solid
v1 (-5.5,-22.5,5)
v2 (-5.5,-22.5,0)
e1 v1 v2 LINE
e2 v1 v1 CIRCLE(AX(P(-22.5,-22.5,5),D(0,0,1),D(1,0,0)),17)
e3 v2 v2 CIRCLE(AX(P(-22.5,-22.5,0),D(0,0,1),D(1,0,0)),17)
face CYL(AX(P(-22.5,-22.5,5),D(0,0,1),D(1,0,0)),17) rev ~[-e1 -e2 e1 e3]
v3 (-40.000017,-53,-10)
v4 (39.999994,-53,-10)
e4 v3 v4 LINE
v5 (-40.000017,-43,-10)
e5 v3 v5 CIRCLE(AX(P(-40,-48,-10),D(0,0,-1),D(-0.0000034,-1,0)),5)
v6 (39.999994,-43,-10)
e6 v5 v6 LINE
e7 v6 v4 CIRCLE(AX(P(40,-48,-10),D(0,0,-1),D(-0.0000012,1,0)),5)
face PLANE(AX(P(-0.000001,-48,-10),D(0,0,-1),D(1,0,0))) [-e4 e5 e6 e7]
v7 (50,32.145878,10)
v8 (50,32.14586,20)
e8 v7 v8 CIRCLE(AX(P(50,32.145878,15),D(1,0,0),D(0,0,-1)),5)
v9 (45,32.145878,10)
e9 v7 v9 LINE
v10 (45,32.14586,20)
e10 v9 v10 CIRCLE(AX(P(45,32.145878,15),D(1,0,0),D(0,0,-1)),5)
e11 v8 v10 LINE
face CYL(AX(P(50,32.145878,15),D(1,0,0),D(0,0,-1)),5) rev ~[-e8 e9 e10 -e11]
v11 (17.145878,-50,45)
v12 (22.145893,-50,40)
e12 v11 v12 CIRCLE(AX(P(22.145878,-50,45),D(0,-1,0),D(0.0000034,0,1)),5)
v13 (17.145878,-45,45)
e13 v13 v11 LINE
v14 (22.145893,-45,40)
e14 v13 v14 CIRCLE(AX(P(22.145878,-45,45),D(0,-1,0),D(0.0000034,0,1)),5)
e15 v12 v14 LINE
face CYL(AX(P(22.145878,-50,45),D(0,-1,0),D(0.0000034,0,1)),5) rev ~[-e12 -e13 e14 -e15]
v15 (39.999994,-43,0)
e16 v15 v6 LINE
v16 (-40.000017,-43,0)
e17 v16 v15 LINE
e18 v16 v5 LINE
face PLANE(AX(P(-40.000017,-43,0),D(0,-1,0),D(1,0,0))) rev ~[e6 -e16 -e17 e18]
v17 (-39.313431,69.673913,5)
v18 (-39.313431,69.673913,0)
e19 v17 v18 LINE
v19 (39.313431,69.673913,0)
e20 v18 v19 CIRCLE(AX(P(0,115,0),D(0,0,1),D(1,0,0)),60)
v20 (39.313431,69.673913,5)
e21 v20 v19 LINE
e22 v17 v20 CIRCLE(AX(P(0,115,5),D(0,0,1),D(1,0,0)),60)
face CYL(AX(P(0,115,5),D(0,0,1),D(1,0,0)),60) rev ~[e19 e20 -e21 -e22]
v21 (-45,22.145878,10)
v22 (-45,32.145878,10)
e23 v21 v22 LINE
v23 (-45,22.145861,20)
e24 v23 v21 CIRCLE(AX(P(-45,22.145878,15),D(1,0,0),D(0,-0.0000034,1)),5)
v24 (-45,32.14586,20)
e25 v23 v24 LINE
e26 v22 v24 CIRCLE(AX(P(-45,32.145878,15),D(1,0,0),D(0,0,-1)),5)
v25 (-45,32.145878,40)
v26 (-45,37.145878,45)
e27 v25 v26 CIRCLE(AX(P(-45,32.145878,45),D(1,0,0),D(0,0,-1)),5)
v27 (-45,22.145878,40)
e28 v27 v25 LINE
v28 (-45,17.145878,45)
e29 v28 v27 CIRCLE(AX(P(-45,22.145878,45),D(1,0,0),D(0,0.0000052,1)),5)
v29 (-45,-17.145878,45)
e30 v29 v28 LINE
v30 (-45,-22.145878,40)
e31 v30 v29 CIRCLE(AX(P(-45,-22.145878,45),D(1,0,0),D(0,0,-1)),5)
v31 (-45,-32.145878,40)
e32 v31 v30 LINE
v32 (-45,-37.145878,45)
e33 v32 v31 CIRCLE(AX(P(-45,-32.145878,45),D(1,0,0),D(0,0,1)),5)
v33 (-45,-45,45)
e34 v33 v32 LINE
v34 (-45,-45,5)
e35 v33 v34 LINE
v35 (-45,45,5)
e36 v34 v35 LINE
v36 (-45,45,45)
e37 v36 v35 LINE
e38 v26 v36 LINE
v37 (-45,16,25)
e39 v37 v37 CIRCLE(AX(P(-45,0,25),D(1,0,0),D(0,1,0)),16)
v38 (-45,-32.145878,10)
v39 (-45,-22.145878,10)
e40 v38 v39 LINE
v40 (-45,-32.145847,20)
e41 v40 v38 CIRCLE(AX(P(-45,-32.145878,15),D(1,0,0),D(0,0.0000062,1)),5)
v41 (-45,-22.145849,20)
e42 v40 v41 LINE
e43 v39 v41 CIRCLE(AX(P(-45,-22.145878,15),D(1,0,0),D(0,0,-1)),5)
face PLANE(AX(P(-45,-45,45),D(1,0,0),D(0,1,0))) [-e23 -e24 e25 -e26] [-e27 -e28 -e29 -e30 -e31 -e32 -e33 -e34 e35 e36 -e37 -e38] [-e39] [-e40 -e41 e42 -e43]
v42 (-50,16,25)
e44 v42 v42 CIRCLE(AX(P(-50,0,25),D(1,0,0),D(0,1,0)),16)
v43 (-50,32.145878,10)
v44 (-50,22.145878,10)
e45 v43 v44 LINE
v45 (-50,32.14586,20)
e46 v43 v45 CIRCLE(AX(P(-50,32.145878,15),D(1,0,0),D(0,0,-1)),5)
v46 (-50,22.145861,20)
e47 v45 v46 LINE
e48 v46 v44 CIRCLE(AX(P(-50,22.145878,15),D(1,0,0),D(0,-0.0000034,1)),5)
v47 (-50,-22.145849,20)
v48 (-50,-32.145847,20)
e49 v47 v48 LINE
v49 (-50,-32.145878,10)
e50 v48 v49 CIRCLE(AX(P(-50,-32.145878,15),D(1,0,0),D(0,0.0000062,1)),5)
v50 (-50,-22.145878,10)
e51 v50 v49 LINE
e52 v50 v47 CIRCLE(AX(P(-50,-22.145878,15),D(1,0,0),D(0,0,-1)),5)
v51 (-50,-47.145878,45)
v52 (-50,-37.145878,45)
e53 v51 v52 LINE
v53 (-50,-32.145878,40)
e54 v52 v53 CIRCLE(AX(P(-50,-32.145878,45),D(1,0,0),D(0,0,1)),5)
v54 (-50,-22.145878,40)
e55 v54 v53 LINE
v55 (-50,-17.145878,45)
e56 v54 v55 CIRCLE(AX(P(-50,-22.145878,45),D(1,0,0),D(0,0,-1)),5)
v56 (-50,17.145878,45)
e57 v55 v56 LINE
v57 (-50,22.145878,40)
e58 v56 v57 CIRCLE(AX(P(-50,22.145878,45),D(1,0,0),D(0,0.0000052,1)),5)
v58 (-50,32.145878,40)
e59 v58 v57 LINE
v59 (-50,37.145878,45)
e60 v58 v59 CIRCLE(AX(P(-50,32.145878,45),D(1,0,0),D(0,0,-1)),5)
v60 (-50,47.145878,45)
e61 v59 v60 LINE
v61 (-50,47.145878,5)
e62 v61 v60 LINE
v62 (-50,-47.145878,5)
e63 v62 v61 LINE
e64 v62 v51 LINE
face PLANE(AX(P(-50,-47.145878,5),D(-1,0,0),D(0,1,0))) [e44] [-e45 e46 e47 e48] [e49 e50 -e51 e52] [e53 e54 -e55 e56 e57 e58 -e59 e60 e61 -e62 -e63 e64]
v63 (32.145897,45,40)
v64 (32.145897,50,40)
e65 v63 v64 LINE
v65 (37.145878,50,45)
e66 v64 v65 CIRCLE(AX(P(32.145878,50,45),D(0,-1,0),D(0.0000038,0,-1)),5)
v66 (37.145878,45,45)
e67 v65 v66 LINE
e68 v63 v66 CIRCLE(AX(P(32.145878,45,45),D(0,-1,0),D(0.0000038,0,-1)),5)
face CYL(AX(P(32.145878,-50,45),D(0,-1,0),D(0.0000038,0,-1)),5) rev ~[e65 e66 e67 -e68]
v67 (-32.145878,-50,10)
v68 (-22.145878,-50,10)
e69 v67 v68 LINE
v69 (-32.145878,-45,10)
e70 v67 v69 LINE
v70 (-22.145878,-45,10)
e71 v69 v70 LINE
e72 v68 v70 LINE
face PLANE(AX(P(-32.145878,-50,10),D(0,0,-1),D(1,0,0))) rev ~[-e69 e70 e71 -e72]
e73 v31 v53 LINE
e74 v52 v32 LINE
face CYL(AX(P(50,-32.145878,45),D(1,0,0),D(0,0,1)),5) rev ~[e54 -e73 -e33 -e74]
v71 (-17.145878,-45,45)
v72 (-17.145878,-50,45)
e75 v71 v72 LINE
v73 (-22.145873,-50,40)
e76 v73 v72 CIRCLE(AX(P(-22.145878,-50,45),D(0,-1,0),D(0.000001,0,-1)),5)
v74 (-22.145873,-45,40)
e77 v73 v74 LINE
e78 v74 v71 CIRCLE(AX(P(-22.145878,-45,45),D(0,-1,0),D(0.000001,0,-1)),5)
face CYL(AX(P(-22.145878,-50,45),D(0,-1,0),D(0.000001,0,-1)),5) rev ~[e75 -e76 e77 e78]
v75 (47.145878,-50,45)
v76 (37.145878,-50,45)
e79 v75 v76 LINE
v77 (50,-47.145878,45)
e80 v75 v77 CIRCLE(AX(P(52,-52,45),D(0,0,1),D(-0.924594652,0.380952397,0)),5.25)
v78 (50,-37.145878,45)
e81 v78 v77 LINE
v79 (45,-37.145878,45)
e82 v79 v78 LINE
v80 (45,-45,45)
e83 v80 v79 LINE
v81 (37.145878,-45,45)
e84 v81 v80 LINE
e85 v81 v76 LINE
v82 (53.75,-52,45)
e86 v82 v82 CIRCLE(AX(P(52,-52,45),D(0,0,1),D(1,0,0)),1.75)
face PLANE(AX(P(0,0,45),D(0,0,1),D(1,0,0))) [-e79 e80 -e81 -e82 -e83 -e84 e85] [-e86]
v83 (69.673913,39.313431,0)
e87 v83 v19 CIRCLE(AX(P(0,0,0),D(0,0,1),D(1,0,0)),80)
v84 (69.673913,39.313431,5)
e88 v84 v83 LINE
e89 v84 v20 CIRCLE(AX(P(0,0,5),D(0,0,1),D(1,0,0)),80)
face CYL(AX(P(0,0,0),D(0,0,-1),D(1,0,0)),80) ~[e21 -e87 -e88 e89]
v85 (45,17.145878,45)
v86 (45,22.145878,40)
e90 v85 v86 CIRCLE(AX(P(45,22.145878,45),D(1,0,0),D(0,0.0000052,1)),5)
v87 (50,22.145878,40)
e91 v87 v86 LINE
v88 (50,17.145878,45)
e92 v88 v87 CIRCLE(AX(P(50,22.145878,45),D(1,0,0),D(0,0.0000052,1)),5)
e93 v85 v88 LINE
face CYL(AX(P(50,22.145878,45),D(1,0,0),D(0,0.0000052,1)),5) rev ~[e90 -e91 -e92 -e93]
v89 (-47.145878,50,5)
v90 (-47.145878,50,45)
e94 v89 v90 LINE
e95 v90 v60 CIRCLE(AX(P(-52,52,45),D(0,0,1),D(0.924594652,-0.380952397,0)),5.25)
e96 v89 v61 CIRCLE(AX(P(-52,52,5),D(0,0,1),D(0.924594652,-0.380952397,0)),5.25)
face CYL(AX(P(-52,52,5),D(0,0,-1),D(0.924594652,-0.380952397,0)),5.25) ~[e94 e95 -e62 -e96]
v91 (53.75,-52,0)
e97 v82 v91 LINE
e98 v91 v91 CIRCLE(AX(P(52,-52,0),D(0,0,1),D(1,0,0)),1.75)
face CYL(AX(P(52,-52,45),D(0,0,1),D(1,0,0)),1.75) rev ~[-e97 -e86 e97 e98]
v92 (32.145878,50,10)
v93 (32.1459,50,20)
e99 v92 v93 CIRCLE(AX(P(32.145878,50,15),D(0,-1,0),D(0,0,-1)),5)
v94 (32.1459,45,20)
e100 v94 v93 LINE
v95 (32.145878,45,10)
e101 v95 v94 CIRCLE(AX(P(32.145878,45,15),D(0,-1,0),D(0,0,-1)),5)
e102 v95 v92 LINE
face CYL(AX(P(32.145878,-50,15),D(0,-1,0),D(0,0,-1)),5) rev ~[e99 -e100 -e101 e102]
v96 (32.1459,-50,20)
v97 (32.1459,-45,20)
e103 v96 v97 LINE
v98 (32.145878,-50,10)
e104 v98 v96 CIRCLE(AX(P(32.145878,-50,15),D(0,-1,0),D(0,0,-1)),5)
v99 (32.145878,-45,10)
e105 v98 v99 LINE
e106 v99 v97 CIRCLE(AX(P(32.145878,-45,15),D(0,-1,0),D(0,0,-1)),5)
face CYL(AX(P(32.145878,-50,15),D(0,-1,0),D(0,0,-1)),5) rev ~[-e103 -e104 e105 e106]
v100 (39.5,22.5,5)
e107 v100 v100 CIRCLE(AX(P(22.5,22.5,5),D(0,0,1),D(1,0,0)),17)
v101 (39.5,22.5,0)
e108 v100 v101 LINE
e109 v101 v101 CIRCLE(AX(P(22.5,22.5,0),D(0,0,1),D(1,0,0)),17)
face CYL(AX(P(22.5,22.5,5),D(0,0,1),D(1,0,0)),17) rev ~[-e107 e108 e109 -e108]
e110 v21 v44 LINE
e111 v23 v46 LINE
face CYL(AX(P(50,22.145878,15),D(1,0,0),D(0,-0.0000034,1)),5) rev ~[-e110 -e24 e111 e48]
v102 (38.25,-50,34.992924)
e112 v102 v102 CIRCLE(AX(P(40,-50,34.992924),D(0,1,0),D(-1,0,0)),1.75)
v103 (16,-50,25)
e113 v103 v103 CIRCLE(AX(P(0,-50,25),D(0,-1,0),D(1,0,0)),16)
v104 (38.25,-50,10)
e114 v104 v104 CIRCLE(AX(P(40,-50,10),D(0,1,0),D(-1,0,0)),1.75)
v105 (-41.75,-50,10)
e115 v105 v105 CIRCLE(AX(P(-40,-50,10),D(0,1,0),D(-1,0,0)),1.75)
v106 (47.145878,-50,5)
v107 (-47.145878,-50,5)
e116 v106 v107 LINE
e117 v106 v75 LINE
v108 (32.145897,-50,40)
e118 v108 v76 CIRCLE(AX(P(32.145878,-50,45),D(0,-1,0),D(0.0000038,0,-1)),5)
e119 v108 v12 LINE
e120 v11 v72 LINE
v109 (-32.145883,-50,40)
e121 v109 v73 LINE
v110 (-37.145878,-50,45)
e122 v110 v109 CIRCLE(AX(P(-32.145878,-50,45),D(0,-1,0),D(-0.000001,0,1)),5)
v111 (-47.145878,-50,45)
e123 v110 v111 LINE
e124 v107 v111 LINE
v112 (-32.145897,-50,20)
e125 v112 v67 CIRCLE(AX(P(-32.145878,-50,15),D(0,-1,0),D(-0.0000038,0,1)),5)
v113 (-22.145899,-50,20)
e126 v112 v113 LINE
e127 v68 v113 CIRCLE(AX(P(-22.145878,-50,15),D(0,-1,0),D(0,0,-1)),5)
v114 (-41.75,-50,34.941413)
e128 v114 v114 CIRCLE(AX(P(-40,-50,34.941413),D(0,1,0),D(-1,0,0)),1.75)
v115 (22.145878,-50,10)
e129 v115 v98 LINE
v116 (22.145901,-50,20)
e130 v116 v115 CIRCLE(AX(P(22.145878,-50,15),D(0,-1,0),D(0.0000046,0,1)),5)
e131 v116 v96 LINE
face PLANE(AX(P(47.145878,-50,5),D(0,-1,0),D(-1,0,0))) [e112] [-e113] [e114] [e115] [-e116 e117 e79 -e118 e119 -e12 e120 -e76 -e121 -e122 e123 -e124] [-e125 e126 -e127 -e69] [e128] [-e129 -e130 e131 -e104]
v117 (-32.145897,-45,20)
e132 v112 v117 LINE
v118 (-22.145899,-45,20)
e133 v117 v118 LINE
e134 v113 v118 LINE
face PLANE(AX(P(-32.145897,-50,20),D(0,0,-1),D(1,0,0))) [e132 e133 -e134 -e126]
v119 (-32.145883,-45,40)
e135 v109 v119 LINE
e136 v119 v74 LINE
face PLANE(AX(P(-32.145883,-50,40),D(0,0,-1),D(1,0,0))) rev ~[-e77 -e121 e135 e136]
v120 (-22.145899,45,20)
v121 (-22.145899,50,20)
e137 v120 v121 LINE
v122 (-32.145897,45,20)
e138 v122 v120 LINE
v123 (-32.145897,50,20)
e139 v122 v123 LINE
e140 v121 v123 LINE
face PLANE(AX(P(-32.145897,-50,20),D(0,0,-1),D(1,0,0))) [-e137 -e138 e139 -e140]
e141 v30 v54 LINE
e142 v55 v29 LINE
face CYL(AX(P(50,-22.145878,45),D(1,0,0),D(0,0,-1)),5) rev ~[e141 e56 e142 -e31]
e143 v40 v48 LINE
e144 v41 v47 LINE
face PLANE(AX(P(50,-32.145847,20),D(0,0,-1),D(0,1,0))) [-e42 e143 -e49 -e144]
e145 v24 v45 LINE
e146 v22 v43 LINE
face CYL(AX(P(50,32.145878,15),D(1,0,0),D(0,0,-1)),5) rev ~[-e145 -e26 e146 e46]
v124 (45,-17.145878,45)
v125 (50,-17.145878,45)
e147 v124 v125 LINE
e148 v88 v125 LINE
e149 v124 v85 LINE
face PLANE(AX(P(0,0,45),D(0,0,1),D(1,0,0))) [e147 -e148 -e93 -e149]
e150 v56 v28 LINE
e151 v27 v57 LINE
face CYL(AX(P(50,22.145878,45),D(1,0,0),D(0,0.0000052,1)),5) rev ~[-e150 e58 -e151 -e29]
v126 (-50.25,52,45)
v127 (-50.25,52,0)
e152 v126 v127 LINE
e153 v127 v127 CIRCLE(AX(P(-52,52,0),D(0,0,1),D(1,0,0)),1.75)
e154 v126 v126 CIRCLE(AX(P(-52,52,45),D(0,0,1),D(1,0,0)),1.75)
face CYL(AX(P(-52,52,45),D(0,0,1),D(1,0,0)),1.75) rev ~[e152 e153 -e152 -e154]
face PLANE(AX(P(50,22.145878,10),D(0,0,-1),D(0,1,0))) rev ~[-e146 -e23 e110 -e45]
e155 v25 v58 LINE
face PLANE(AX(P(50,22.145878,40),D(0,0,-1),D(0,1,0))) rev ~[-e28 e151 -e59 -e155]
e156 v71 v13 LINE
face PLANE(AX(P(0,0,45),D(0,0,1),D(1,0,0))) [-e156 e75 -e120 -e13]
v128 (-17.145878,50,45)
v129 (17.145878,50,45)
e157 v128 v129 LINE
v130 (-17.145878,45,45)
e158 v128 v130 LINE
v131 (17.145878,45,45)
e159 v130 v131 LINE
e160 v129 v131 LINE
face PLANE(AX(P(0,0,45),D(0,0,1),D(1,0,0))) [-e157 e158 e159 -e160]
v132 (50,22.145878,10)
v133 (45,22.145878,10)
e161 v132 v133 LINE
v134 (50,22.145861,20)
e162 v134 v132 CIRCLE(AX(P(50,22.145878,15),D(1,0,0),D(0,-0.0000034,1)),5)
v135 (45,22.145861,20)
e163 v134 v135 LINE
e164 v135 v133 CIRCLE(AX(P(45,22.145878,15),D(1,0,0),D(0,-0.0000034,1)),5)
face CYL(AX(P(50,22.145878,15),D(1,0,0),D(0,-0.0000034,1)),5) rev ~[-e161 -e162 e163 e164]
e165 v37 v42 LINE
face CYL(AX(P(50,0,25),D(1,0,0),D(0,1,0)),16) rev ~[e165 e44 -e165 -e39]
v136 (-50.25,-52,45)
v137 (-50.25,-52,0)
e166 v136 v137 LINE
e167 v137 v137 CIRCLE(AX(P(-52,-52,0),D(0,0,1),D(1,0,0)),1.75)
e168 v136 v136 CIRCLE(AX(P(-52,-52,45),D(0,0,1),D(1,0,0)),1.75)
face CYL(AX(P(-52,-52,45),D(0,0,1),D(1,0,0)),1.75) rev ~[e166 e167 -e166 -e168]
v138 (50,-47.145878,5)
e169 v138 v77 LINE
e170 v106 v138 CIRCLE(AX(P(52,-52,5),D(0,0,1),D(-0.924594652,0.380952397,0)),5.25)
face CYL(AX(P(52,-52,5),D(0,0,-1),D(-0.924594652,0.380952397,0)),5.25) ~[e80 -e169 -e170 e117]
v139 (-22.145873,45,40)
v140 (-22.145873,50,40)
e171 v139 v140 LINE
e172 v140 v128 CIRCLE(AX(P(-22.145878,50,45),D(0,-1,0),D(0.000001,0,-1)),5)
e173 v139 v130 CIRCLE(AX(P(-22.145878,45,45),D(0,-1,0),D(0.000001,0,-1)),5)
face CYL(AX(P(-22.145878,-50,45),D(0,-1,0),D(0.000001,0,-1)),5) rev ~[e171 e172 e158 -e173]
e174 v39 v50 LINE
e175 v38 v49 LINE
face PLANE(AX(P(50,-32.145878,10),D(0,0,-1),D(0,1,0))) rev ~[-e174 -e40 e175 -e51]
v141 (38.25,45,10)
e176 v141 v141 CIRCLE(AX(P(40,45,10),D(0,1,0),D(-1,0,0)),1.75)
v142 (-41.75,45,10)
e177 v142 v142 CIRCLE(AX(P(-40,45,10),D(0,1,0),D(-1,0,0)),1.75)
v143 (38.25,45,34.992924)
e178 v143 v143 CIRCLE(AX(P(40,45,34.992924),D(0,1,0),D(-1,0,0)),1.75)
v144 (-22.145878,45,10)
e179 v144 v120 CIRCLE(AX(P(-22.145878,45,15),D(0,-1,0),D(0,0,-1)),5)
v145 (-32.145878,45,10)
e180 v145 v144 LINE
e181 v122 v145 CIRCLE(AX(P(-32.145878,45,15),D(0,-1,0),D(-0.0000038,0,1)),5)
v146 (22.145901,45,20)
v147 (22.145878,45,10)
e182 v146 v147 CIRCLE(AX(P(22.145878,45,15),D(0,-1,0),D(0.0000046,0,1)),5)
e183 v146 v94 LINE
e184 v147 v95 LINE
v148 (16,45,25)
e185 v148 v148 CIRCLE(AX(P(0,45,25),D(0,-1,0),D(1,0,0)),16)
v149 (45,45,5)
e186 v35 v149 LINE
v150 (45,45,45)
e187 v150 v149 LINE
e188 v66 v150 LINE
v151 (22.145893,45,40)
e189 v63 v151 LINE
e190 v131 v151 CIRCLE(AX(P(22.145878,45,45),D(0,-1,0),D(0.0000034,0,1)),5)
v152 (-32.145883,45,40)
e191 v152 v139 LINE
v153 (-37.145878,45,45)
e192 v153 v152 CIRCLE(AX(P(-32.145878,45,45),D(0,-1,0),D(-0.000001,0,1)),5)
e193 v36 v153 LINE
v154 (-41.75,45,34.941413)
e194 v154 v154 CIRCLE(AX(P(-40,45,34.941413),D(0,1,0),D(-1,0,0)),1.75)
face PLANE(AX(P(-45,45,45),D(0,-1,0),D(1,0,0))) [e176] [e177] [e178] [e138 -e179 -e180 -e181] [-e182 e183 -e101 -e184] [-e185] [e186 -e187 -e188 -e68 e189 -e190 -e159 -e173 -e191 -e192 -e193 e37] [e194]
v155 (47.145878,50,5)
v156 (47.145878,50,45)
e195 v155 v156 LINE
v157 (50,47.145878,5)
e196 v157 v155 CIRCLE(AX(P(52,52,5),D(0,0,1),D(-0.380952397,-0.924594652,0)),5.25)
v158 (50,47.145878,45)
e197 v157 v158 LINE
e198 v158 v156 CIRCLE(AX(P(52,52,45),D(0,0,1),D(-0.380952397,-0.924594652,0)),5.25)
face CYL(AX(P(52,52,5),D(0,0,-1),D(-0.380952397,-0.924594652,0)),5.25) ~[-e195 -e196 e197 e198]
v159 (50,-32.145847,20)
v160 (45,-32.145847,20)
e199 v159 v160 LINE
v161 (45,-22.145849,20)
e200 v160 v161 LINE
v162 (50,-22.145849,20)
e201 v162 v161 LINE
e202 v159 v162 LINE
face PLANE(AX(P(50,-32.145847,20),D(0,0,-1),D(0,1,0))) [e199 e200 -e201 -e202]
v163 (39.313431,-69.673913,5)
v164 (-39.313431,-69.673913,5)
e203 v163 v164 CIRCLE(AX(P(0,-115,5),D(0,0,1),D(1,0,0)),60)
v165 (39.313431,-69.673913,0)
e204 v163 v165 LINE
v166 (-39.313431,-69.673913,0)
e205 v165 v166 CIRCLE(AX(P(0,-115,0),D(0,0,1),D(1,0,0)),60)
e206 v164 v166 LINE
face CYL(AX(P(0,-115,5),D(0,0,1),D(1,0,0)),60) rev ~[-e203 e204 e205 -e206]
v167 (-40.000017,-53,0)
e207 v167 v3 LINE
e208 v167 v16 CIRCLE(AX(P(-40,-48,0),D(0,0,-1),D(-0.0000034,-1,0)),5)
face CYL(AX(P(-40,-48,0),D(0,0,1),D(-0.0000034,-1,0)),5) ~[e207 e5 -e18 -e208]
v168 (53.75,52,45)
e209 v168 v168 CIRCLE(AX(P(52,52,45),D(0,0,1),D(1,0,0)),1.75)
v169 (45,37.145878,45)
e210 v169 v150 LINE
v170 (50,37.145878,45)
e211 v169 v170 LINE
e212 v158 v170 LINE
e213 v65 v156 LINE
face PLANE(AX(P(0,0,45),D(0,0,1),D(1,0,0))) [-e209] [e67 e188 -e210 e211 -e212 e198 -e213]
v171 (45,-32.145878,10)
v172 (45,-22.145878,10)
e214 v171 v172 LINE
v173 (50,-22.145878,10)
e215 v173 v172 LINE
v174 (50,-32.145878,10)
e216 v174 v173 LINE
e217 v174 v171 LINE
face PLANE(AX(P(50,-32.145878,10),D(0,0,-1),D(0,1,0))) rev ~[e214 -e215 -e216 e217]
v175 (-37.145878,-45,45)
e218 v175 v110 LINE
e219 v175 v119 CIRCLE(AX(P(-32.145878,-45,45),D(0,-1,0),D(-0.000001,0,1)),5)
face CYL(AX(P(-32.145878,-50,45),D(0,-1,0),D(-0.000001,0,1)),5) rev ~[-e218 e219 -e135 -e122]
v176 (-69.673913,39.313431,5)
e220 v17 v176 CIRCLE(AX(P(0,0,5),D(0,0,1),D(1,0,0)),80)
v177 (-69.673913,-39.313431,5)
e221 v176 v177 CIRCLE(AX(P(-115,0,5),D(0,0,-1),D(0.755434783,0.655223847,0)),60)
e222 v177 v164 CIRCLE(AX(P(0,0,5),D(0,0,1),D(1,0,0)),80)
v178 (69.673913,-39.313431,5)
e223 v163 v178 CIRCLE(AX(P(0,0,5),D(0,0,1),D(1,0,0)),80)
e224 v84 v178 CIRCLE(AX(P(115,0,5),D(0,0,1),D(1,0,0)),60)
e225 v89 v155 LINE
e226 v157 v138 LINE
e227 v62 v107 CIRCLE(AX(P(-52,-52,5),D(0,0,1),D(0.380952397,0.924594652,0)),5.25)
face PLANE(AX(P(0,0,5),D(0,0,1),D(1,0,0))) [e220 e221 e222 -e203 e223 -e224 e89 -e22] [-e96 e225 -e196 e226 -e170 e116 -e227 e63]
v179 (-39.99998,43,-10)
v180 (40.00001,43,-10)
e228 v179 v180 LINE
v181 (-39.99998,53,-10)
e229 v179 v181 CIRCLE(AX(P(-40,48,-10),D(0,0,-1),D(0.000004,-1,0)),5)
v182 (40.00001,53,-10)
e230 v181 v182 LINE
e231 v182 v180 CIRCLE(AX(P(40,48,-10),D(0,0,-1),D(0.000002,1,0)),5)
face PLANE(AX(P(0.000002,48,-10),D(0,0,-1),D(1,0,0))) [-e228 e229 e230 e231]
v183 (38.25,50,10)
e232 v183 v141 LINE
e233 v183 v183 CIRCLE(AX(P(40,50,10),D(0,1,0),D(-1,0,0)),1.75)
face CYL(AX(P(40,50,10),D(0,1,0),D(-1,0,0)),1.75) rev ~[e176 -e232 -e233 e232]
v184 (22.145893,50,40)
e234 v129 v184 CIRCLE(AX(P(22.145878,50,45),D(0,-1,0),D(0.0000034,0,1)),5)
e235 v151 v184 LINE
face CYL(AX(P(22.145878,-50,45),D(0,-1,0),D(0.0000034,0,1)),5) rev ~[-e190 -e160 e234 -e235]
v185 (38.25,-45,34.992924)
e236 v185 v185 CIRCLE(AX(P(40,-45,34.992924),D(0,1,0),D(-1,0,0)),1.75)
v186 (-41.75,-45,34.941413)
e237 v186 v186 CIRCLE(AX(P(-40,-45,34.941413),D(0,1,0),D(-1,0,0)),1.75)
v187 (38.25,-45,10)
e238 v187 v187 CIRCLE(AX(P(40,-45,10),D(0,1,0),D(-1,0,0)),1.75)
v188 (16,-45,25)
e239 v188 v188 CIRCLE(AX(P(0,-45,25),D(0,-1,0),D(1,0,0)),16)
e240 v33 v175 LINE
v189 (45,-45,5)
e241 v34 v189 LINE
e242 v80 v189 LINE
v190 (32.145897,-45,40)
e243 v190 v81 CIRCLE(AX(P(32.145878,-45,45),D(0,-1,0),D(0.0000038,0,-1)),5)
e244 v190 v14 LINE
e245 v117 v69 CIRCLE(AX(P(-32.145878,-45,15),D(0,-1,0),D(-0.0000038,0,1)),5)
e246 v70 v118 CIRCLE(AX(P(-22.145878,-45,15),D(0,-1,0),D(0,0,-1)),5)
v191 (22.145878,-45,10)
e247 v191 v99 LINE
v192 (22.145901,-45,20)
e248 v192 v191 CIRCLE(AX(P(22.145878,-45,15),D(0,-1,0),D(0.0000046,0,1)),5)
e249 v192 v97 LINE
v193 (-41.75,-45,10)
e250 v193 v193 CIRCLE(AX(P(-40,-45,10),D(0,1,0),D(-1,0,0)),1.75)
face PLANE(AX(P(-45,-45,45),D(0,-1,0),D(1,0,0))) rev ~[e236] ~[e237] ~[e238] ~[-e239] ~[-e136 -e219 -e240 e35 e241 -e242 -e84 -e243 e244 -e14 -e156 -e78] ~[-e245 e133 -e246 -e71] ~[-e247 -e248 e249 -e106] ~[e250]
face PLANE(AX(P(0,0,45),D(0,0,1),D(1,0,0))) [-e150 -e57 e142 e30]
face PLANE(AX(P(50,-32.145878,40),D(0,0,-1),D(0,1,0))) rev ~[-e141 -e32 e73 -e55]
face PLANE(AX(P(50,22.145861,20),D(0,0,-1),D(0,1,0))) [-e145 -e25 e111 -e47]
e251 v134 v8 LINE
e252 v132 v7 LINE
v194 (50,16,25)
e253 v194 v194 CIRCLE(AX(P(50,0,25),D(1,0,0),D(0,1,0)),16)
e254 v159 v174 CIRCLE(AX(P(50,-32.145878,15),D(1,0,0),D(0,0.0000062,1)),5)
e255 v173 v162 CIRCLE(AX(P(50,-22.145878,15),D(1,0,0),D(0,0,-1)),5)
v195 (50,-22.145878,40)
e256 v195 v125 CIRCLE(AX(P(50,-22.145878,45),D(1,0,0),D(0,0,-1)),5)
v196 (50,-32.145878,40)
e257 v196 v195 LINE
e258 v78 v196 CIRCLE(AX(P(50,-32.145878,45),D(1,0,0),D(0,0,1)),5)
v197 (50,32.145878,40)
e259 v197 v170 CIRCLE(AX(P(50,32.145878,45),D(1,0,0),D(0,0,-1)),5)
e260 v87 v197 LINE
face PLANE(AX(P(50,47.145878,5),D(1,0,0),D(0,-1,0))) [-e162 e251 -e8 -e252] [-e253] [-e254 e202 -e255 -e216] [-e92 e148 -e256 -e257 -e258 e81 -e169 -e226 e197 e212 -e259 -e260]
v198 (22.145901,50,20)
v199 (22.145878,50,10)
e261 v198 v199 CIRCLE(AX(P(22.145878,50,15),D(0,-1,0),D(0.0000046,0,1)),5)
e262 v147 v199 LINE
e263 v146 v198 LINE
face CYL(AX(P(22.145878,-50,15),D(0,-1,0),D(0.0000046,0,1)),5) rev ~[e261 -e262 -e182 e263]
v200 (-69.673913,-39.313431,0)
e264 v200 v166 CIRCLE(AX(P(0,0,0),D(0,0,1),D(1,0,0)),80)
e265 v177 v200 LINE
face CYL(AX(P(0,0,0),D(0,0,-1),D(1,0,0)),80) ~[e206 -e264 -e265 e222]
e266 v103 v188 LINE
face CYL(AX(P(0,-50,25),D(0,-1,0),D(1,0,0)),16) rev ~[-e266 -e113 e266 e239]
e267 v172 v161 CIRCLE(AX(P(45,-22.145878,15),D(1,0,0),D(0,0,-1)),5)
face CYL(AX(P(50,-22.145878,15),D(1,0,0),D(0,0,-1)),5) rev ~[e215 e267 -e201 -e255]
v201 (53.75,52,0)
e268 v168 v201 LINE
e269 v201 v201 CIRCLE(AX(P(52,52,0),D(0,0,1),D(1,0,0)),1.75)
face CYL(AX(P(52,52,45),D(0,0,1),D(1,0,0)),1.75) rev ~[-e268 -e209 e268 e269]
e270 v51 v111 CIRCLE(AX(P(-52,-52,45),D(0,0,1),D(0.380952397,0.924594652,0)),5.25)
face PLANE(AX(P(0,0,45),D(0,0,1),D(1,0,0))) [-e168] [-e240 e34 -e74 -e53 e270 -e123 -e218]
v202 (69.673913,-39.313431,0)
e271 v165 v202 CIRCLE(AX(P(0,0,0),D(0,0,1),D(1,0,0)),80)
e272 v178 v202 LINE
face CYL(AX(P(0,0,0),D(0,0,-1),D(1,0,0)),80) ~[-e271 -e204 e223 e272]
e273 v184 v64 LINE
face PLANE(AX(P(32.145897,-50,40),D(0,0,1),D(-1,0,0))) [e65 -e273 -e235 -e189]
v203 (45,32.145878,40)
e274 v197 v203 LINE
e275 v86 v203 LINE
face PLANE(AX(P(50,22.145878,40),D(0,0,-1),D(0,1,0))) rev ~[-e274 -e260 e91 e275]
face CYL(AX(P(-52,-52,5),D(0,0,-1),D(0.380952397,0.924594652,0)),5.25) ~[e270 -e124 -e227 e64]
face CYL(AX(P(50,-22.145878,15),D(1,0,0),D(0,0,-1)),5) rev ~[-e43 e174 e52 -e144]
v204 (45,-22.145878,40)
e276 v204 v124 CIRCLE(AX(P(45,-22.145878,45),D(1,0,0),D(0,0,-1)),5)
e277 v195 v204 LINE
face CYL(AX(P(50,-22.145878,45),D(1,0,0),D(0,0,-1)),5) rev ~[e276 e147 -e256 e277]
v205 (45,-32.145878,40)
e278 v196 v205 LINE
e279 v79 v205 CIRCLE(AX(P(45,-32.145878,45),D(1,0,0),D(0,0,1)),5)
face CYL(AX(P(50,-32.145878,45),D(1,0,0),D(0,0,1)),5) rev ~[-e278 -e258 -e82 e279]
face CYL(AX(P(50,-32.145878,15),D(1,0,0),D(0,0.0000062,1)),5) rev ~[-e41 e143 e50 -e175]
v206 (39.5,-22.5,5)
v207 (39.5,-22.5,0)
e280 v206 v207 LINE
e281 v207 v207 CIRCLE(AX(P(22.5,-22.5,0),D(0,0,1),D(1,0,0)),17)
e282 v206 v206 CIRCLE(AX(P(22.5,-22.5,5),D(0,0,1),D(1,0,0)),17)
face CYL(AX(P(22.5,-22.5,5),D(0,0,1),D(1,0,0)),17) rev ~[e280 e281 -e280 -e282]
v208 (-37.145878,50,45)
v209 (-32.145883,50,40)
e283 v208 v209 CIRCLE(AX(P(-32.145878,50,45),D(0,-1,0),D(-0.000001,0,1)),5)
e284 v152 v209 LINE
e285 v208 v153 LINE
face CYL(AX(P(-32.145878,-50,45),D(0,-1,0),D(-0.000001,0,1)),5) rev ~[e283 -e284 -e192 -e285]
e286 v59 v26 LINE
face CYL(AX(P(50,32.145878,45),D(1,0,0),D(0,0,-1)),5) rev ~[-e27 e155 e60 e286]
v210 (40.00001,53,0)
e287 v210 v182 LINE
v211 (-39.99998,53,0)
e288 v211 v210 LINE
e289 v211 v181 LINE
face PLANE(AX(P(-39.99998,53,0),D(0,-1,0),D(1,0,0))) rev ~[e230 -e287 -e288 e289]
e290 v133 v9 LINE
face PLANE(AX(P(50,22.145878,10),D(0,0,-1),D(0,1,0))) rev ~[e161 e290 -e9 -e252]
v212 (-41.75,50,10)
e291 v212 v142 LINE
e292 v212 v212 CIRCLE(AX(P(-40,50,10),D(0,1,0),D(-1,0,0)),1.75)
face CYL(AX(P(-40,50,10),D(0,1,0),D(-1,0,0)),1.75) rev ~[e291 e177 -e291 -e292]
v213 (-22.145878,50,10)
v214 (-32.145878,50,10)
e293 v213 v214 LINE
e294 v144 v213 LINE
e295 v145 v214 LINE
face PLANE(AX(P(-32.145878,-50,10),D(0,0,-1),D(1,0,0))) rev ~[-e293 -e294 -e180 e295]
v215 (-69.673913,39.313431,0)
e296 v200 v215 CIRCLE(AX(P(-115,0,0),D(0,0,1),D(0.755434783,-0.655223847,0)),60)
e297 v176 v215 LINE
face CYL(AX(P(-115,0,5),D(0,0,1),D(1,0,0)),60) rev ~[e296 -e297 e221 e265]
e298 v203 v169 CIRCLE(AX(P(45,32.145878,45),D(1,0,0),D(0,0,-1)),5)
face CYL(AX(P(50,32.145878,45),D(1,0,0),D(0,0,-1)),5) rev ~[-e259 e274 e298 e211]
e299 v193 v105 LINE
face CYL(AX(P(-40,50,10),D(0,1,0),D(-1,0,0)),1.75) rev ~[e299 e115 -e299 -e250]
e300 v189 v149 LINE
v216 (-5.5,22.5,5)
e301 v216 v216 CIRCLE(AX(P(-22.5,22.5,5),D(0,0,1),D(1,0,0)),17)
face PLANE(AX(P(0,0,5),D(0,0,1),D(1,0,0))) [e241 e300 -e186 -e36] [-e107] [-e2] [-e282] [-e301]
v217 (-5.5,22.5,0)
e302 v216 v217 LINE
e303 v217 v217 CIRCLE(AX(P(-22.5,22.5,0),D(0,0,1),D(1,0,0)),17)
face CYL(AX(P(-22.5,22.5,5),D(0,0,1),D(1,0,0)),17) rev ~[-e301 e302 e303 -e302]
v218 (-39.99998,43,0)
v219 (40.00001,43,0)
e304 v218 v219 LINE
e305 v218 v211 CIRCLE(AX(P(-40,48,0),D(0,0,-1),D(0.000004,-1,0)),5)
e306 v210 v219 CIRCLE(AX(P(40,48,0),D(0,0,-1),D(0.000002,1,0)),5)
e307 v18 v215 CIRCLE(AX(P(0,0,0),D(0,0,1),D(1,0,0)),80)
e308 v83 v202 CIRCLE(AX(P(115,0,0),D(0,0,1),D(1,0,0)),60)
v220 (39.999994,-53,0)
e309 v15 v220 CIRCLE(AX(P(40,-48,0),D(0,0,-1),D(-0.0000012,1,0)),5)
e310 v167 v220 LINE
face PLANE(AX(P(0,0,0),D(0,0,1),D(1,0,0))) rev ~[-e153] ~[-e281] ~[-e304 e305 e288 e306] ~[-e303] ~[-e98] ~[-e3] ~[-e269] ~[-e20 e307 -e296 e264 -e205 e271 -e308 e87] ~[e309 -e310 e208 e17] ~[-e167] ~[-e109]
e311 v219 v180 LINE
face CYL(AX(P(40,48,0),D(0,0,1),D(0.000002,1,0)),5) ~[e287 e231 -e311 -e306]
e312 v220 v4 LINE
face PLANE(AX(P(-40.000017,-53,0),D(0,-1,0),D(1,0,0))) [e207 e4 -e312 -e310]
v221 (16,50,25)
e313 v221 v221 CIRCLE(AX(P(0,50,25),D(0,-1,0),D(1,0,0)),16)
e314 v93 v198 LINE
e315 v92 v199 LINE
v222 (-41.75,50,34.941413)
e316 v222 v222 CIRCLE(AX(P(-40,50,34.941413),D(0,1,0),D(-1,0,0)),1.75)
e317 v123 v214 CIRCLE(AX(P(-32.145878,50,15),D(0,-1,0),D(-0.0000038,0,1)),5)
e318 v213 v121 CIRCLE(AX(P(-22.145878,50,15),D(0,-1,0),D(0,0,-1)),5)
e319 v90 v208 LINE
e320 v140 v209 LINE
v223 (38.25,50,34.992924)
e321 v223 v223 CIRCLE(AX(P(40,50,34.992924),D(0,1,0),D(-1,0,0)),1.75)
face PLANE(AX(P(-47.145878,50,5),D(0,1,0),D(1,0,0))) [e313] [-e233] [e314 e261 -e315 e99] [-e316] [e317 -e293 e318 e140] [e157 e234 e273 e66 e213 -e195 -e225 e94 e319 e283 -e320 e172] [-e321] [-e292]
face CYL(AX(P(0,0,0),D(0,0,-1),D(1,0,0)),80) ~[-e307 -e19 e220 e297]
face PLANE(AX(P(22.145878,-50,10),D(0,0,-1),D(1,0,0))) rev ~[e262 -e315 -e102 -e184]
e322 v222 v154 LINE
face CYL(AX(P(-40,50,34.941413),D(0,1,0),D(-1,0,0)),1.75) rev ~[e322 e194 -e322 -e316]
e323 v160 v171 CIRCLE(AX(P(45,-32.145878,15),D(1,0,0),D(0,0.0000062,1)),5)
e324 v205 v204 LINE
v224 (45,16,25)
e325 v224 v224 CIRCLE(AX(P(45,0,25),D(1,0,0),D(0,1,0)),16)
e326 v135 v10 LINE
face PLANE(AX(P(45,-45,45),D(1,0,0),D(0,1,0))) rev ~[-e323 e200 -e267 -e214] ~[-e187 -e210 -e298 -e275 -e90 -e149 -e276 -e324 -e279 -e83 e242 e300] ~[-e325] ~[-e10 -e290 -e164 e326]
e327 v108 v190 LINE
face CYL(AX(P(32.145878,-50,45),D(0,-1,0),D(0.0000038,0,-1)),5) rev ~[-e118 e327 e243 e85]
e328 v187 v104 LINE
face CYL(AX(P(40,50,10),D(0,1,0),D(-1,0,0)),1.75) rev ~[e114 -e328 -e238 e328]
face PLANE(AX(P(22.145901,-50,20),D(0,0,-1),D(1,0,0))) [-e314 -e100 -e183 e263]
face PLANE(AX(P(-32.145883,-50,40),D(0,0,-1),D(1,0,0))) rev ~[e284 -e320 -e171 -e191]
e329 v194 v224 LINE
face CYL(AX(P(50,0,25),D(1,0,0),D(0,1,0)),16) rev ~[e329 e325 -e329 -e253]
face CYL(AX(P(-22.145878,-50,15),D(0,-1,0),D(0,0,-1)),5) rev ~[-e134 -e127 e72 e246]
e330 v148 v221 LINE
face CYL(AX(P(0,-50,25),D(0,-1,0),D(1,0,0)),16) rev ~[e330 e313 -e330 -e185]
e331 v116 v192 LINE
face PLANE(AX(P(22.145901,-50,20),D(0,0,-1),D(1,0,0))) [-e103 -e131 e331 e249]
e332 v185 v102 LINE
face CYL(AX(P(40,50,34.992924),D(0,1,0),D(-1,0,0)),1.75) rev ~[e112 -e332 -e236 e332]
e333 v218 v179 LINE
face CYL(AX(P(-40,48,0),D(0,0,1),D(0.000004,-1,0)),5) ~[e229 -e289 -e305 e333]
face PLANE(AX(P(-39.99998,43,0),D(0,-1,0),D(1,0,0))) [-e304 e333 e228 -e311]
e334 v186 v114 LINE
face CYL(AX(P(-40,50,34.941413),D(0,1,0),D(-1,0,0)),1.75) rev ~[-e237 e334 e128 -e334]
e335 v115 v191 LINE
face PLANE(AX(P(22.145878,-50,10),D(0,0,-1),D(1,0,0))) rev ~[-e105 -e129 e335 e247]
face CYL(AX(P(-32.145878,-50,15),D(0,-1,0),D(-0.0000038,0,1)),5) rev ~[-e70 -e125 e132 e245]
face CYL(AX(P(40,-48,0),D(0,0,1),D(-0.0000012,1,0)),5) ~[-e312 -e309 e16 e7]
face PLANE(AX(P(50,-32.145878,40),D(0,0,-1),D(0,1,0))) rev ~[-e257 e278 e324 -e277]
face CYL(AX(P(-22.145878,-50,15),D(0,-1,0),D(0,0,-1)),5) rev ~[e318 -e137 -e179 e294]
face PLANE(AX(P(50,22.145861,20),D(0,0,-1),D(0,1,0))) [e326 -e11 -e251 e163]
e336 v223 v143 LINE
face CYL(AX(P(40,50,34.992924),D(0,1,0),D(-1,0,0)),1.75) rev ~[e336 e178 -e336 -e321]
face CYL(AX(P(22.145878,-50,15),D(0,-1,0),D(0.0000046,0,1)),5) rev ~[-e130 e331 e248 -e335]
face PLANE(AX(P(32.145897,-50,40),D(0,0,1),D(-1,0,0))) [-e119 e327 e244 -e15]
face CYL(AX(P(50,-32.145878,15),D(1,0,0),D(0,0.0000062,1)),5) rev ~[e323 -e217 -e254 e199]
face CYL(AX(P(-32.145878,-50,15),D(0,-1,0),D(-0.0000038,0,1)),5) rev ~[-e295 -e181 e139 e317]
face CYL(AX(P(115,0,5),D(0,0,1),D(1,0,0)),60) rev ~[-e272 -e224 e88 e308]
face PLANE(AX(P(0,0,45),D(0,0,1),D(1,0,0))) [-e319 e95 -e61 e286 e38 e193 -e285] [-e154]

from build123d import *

# Parameters (mm, degrees)
SKETCH_R        = 80
PAD_DEPTH       = 5
PAD001_DEPTH    = 40
SKETCH003_W     = 90
SKETCH003_H     = 90
POCKET_DEPTH    = 40
SKETCH004_R     = 1.75
POCKET001_DEPTH = 45.001
SKETCH005_R     = 17
SKETCH005_R_2   = 60
POCKET002_DEPTH = 5.001
SKETCH006_R     = 16
POCKET003_DEPTH = 119.674913
SKETCH007_R     = 16
POCKET004_DEPTH = 119.674913
PAD002_DEPTH    = 10
SKETCH010_R     = 1.75
POCKET005_DEPTH = 119.674913


with BuildPart() as part:
    # Sketch → Pad (new body)
    with BuildSketch(Plane.XY):
        Circle(SKETCH_R)
    extrude(amount=PAD_DEPTH)

    # Sketch002 → Pad001 (new body)
    with BuildSketch(Plane.XY.offset(5)):
        with BuildLine():
            ThreePointArc((-47.145878, 50), (-55.712311, 55.712311), (-50, 47.145878))
            Line((-50, -47.145878), (-50, 47.145878))
            ThreePointArc((-50, -47.145878), (-55.712311, -55.712311), (-47.145878, -50))
            Line((47.145878, -50), (-47.145878, -50))
            ThreePointArc((47.145878, -50), (55.712311, -55.712311), (50, -47.145878))
            Line((50, 47.145878), (50, -47.145878))
            ThreePointArc((50, 47.145878), (55.712311, 55.712311), (47.145878, 50))
            Line((-47.145878, 50), (47.145878, 50))
        make_face()
    extrude(amount=PAD001_DEPTH)

    # Sketch003 → Pocket (cut)
    with BuildSketch(Plane.XY.offset(45)):
        Rectangle(SKETCH003_W, SKETCH003_H)
    extrude(amount=-POCKET_DEPTH, mode=Mode.SUBTRACT)

    # Sketch004 → Pocket001 (cut, through all)
    with BuildSketch(Plane.XY.offset(45)):
        with Locations((-52, -52)):
            Circle(SKETCH004_R)
        with Locations((52, 52)):
            Circle(SKETCH004_R)
        with Locations((52, -52)):
            Circle(SKETCH004_R)
        with Locations((-52, 52)):
            Circle(SKETCH004_R)
    extrude(amount=-POCKET001_DEPTH, mode=Mode.SUBTRACT)

    # Sketch005 → Pocket002 (cut, through all)
    with BuildSketch(Plane.XY.offset(5)):
        with Locations((-22.5, 22.5)):
            Circle(SKETCH005_R)
        with Locations((22.5, 22.5)):
            Circle(SKETCH005_R)
        with Locations((-22.5, -22.5)):
            Circle(SKETCH005_R)
        with Locations((22.5, -22.5)):
            Circle(SKETCH005_R)
        with Locations((0, -115)):
            Circle(SKETCH005_R_2)
        with Locations((-115, 0)):
            Circle(SKETCH005_R_2)
        with Locations((115, 0)):
            Circle(SKETCH005_R_2)
        with Locations((0, 115)):
            Circle(SKETCH005_R_2)
    extrude(amount=-POCKET002_DEPTH, mode=Mode.SUBTRACT)

    # Sketch006 → Pocket003 (cut, through all)
    with BuildSketch(Plane.YZ.offset(50)):
        with Locations((0, 25)):
            Circle(SKETCH006_R)
        with BuildLine():
            ThreePointArc((-32.145878, 50), (-37.145878, 45), (-32.145878, 40))
            Line((-32.145878, 40), (-22.145878, 40))
            ThreePointArc((-22.145878, 40), (-17.145878, 45), (-22.145878, 50))
            Line((-32.145878, 50), (-22.145878, 50))
        make_face()
        with BuildLine():
            ThreePointArc((22.145904, 50), (17.145878, 45.000013), (22.145878, 40))
            Line((22.145878, 40), (32.145878, 40))
            ThreePointArc((32.145878, 40), (37.145878, 44.999989), (32.1459, 50))
            Line((22.145904, 50), (32.1459, 50))
        make_face()
        with BuildLine():
            ThreePointArc((-32.145847, 20), (-37.145878, 15.000015), (-32.145878, 10))
            Line((-32.145878, 10), (-22.145878, 10))
            ThreePointArc((-22.145878, 10), (-17.145878, 14.999986), (-22.145849, 20))
            Line((-32.145847, 20), (-22.145849, 20))
        make_face()
        with BuildLine():
            ThreePointArc((22.145861, 20), (17.145878, 14.999992), (22.145878, 10))
            Line((22.145878, 10), (32.145878, 10))
            ThreePointArc((32.145878, 10), (37.145878, 15.000009), (32.14586, 20))
            Line((22.145861, 20), (32.14586, 20))
        make_face()
    extrude(amount=-POCKET003_DEPTH, mode=Mode.SUBTRACT)

    # Sketch007 → Pocket004 (cut, through all)
    with BuildSketch(Plane.XZ.offset(50)):
        with Locations((0, 25)):
            Circle(SKETCH007_R)
        with BuildLine():
            ThreePointArc((-32.145883, 50), (-37.145878, 45), (-32.145883, 40))
            Line((-32.145883, 40), (-22.145873, 40))
            ThreePointArc((-22.145873, 40), (-17.145878, 45), (-22.145873, 50))
            Line((-32.145883, 50), (-22.145873, 50))
        make_face()
        with BuildLine():
            ThreePointArc((32.145897, 40), (37.145878, 45), (32.145898, 50))
            Line((32.145898, 50), (22.145895, 50))
            ThreePointArc((22.145895, 50), (17.145878, 45.000001), (22.145893, 40))
            Line((32.145897, 40), (22.145893, 40))
        make_face()
        with BuildLine():
            ThreePointArc((-32.145897, 20), (-37.145878, 14.99999), (-32.145878, 10))
            Line((-32.145878, 10), (-22.145878, 10))
            ThreePointArc((-22.145878, 10), (-17.145878, 15.000011), (-22.145899, 20))
            Line((-32.145897, 20), (-22.145899, 20))
        make_face()
        with BuildLine():
            ThreePointArc((22.145901, 20), (17.145878, 15.000011), (22.145878, 10))
            Line((22.145878, 10), (32.145878, 10))
            ThreePointArc((32.145878, 10), (37.145878, 14.999989), (32.1459, 20))
            Line((22.145901, 20), (32.1459, 20))
        make_face()
    extrude(amount=-POCKET004_DEPTH, mode=Mode.SUBTRACT)

    # Sketch008 → Pad002 (new body)
    with BuildSketch(Plane(origin=(0, 0, 0), x_dir=(1, 0, 0), z_dir=(0, 0, -1))):
        with BuildLine():
            ThreePointArc((-40.000017, 53), (-45, 48), (-40.000017, 43))
            Line((-40.000017, 43), (39.999994, 43))
            ThreePointArc((39.999994, 43), (45, 48), (39.999994, 53))
            Line((-40.000017, 53), (39.999994, 53))
        make_face()
        with BuildLine():
            ThreePointArc((-39.99998, -43), (-45, -48), (-39.99998, -53))
            Line((-39.99998, -53), (40.00001, -53))
            ThreePointArc((40.00001, -53), (45, -48), (40.00001, -43))
            Line((-39.99998, -43), (40.00001, -43))
        make_face()
    extrude(amount=PAD002_DEPTH)

    # Sketch010 → Pocket005 (cut, through all)
    with BuildSketch(Plane(origin=(0, 50, 0), x_dir=(-1, 0, 0), z_dir=(0, 1, 0))):
        with Locations((-40, 34.992924)):
            Circle(SKETCH010_R)
        with Locations((-40, 10)):
            Circle(SKETCH010_R)
        with Locations((40, 10)):
            Circle(SKETCH010_R)
        with Locations((40, 34.941413)):
            Circle(SKETCH010_R)
    extrude(amount=-POCKET005_DEPTH, mode=Mode.SUBTRACT)


solid = part.part
